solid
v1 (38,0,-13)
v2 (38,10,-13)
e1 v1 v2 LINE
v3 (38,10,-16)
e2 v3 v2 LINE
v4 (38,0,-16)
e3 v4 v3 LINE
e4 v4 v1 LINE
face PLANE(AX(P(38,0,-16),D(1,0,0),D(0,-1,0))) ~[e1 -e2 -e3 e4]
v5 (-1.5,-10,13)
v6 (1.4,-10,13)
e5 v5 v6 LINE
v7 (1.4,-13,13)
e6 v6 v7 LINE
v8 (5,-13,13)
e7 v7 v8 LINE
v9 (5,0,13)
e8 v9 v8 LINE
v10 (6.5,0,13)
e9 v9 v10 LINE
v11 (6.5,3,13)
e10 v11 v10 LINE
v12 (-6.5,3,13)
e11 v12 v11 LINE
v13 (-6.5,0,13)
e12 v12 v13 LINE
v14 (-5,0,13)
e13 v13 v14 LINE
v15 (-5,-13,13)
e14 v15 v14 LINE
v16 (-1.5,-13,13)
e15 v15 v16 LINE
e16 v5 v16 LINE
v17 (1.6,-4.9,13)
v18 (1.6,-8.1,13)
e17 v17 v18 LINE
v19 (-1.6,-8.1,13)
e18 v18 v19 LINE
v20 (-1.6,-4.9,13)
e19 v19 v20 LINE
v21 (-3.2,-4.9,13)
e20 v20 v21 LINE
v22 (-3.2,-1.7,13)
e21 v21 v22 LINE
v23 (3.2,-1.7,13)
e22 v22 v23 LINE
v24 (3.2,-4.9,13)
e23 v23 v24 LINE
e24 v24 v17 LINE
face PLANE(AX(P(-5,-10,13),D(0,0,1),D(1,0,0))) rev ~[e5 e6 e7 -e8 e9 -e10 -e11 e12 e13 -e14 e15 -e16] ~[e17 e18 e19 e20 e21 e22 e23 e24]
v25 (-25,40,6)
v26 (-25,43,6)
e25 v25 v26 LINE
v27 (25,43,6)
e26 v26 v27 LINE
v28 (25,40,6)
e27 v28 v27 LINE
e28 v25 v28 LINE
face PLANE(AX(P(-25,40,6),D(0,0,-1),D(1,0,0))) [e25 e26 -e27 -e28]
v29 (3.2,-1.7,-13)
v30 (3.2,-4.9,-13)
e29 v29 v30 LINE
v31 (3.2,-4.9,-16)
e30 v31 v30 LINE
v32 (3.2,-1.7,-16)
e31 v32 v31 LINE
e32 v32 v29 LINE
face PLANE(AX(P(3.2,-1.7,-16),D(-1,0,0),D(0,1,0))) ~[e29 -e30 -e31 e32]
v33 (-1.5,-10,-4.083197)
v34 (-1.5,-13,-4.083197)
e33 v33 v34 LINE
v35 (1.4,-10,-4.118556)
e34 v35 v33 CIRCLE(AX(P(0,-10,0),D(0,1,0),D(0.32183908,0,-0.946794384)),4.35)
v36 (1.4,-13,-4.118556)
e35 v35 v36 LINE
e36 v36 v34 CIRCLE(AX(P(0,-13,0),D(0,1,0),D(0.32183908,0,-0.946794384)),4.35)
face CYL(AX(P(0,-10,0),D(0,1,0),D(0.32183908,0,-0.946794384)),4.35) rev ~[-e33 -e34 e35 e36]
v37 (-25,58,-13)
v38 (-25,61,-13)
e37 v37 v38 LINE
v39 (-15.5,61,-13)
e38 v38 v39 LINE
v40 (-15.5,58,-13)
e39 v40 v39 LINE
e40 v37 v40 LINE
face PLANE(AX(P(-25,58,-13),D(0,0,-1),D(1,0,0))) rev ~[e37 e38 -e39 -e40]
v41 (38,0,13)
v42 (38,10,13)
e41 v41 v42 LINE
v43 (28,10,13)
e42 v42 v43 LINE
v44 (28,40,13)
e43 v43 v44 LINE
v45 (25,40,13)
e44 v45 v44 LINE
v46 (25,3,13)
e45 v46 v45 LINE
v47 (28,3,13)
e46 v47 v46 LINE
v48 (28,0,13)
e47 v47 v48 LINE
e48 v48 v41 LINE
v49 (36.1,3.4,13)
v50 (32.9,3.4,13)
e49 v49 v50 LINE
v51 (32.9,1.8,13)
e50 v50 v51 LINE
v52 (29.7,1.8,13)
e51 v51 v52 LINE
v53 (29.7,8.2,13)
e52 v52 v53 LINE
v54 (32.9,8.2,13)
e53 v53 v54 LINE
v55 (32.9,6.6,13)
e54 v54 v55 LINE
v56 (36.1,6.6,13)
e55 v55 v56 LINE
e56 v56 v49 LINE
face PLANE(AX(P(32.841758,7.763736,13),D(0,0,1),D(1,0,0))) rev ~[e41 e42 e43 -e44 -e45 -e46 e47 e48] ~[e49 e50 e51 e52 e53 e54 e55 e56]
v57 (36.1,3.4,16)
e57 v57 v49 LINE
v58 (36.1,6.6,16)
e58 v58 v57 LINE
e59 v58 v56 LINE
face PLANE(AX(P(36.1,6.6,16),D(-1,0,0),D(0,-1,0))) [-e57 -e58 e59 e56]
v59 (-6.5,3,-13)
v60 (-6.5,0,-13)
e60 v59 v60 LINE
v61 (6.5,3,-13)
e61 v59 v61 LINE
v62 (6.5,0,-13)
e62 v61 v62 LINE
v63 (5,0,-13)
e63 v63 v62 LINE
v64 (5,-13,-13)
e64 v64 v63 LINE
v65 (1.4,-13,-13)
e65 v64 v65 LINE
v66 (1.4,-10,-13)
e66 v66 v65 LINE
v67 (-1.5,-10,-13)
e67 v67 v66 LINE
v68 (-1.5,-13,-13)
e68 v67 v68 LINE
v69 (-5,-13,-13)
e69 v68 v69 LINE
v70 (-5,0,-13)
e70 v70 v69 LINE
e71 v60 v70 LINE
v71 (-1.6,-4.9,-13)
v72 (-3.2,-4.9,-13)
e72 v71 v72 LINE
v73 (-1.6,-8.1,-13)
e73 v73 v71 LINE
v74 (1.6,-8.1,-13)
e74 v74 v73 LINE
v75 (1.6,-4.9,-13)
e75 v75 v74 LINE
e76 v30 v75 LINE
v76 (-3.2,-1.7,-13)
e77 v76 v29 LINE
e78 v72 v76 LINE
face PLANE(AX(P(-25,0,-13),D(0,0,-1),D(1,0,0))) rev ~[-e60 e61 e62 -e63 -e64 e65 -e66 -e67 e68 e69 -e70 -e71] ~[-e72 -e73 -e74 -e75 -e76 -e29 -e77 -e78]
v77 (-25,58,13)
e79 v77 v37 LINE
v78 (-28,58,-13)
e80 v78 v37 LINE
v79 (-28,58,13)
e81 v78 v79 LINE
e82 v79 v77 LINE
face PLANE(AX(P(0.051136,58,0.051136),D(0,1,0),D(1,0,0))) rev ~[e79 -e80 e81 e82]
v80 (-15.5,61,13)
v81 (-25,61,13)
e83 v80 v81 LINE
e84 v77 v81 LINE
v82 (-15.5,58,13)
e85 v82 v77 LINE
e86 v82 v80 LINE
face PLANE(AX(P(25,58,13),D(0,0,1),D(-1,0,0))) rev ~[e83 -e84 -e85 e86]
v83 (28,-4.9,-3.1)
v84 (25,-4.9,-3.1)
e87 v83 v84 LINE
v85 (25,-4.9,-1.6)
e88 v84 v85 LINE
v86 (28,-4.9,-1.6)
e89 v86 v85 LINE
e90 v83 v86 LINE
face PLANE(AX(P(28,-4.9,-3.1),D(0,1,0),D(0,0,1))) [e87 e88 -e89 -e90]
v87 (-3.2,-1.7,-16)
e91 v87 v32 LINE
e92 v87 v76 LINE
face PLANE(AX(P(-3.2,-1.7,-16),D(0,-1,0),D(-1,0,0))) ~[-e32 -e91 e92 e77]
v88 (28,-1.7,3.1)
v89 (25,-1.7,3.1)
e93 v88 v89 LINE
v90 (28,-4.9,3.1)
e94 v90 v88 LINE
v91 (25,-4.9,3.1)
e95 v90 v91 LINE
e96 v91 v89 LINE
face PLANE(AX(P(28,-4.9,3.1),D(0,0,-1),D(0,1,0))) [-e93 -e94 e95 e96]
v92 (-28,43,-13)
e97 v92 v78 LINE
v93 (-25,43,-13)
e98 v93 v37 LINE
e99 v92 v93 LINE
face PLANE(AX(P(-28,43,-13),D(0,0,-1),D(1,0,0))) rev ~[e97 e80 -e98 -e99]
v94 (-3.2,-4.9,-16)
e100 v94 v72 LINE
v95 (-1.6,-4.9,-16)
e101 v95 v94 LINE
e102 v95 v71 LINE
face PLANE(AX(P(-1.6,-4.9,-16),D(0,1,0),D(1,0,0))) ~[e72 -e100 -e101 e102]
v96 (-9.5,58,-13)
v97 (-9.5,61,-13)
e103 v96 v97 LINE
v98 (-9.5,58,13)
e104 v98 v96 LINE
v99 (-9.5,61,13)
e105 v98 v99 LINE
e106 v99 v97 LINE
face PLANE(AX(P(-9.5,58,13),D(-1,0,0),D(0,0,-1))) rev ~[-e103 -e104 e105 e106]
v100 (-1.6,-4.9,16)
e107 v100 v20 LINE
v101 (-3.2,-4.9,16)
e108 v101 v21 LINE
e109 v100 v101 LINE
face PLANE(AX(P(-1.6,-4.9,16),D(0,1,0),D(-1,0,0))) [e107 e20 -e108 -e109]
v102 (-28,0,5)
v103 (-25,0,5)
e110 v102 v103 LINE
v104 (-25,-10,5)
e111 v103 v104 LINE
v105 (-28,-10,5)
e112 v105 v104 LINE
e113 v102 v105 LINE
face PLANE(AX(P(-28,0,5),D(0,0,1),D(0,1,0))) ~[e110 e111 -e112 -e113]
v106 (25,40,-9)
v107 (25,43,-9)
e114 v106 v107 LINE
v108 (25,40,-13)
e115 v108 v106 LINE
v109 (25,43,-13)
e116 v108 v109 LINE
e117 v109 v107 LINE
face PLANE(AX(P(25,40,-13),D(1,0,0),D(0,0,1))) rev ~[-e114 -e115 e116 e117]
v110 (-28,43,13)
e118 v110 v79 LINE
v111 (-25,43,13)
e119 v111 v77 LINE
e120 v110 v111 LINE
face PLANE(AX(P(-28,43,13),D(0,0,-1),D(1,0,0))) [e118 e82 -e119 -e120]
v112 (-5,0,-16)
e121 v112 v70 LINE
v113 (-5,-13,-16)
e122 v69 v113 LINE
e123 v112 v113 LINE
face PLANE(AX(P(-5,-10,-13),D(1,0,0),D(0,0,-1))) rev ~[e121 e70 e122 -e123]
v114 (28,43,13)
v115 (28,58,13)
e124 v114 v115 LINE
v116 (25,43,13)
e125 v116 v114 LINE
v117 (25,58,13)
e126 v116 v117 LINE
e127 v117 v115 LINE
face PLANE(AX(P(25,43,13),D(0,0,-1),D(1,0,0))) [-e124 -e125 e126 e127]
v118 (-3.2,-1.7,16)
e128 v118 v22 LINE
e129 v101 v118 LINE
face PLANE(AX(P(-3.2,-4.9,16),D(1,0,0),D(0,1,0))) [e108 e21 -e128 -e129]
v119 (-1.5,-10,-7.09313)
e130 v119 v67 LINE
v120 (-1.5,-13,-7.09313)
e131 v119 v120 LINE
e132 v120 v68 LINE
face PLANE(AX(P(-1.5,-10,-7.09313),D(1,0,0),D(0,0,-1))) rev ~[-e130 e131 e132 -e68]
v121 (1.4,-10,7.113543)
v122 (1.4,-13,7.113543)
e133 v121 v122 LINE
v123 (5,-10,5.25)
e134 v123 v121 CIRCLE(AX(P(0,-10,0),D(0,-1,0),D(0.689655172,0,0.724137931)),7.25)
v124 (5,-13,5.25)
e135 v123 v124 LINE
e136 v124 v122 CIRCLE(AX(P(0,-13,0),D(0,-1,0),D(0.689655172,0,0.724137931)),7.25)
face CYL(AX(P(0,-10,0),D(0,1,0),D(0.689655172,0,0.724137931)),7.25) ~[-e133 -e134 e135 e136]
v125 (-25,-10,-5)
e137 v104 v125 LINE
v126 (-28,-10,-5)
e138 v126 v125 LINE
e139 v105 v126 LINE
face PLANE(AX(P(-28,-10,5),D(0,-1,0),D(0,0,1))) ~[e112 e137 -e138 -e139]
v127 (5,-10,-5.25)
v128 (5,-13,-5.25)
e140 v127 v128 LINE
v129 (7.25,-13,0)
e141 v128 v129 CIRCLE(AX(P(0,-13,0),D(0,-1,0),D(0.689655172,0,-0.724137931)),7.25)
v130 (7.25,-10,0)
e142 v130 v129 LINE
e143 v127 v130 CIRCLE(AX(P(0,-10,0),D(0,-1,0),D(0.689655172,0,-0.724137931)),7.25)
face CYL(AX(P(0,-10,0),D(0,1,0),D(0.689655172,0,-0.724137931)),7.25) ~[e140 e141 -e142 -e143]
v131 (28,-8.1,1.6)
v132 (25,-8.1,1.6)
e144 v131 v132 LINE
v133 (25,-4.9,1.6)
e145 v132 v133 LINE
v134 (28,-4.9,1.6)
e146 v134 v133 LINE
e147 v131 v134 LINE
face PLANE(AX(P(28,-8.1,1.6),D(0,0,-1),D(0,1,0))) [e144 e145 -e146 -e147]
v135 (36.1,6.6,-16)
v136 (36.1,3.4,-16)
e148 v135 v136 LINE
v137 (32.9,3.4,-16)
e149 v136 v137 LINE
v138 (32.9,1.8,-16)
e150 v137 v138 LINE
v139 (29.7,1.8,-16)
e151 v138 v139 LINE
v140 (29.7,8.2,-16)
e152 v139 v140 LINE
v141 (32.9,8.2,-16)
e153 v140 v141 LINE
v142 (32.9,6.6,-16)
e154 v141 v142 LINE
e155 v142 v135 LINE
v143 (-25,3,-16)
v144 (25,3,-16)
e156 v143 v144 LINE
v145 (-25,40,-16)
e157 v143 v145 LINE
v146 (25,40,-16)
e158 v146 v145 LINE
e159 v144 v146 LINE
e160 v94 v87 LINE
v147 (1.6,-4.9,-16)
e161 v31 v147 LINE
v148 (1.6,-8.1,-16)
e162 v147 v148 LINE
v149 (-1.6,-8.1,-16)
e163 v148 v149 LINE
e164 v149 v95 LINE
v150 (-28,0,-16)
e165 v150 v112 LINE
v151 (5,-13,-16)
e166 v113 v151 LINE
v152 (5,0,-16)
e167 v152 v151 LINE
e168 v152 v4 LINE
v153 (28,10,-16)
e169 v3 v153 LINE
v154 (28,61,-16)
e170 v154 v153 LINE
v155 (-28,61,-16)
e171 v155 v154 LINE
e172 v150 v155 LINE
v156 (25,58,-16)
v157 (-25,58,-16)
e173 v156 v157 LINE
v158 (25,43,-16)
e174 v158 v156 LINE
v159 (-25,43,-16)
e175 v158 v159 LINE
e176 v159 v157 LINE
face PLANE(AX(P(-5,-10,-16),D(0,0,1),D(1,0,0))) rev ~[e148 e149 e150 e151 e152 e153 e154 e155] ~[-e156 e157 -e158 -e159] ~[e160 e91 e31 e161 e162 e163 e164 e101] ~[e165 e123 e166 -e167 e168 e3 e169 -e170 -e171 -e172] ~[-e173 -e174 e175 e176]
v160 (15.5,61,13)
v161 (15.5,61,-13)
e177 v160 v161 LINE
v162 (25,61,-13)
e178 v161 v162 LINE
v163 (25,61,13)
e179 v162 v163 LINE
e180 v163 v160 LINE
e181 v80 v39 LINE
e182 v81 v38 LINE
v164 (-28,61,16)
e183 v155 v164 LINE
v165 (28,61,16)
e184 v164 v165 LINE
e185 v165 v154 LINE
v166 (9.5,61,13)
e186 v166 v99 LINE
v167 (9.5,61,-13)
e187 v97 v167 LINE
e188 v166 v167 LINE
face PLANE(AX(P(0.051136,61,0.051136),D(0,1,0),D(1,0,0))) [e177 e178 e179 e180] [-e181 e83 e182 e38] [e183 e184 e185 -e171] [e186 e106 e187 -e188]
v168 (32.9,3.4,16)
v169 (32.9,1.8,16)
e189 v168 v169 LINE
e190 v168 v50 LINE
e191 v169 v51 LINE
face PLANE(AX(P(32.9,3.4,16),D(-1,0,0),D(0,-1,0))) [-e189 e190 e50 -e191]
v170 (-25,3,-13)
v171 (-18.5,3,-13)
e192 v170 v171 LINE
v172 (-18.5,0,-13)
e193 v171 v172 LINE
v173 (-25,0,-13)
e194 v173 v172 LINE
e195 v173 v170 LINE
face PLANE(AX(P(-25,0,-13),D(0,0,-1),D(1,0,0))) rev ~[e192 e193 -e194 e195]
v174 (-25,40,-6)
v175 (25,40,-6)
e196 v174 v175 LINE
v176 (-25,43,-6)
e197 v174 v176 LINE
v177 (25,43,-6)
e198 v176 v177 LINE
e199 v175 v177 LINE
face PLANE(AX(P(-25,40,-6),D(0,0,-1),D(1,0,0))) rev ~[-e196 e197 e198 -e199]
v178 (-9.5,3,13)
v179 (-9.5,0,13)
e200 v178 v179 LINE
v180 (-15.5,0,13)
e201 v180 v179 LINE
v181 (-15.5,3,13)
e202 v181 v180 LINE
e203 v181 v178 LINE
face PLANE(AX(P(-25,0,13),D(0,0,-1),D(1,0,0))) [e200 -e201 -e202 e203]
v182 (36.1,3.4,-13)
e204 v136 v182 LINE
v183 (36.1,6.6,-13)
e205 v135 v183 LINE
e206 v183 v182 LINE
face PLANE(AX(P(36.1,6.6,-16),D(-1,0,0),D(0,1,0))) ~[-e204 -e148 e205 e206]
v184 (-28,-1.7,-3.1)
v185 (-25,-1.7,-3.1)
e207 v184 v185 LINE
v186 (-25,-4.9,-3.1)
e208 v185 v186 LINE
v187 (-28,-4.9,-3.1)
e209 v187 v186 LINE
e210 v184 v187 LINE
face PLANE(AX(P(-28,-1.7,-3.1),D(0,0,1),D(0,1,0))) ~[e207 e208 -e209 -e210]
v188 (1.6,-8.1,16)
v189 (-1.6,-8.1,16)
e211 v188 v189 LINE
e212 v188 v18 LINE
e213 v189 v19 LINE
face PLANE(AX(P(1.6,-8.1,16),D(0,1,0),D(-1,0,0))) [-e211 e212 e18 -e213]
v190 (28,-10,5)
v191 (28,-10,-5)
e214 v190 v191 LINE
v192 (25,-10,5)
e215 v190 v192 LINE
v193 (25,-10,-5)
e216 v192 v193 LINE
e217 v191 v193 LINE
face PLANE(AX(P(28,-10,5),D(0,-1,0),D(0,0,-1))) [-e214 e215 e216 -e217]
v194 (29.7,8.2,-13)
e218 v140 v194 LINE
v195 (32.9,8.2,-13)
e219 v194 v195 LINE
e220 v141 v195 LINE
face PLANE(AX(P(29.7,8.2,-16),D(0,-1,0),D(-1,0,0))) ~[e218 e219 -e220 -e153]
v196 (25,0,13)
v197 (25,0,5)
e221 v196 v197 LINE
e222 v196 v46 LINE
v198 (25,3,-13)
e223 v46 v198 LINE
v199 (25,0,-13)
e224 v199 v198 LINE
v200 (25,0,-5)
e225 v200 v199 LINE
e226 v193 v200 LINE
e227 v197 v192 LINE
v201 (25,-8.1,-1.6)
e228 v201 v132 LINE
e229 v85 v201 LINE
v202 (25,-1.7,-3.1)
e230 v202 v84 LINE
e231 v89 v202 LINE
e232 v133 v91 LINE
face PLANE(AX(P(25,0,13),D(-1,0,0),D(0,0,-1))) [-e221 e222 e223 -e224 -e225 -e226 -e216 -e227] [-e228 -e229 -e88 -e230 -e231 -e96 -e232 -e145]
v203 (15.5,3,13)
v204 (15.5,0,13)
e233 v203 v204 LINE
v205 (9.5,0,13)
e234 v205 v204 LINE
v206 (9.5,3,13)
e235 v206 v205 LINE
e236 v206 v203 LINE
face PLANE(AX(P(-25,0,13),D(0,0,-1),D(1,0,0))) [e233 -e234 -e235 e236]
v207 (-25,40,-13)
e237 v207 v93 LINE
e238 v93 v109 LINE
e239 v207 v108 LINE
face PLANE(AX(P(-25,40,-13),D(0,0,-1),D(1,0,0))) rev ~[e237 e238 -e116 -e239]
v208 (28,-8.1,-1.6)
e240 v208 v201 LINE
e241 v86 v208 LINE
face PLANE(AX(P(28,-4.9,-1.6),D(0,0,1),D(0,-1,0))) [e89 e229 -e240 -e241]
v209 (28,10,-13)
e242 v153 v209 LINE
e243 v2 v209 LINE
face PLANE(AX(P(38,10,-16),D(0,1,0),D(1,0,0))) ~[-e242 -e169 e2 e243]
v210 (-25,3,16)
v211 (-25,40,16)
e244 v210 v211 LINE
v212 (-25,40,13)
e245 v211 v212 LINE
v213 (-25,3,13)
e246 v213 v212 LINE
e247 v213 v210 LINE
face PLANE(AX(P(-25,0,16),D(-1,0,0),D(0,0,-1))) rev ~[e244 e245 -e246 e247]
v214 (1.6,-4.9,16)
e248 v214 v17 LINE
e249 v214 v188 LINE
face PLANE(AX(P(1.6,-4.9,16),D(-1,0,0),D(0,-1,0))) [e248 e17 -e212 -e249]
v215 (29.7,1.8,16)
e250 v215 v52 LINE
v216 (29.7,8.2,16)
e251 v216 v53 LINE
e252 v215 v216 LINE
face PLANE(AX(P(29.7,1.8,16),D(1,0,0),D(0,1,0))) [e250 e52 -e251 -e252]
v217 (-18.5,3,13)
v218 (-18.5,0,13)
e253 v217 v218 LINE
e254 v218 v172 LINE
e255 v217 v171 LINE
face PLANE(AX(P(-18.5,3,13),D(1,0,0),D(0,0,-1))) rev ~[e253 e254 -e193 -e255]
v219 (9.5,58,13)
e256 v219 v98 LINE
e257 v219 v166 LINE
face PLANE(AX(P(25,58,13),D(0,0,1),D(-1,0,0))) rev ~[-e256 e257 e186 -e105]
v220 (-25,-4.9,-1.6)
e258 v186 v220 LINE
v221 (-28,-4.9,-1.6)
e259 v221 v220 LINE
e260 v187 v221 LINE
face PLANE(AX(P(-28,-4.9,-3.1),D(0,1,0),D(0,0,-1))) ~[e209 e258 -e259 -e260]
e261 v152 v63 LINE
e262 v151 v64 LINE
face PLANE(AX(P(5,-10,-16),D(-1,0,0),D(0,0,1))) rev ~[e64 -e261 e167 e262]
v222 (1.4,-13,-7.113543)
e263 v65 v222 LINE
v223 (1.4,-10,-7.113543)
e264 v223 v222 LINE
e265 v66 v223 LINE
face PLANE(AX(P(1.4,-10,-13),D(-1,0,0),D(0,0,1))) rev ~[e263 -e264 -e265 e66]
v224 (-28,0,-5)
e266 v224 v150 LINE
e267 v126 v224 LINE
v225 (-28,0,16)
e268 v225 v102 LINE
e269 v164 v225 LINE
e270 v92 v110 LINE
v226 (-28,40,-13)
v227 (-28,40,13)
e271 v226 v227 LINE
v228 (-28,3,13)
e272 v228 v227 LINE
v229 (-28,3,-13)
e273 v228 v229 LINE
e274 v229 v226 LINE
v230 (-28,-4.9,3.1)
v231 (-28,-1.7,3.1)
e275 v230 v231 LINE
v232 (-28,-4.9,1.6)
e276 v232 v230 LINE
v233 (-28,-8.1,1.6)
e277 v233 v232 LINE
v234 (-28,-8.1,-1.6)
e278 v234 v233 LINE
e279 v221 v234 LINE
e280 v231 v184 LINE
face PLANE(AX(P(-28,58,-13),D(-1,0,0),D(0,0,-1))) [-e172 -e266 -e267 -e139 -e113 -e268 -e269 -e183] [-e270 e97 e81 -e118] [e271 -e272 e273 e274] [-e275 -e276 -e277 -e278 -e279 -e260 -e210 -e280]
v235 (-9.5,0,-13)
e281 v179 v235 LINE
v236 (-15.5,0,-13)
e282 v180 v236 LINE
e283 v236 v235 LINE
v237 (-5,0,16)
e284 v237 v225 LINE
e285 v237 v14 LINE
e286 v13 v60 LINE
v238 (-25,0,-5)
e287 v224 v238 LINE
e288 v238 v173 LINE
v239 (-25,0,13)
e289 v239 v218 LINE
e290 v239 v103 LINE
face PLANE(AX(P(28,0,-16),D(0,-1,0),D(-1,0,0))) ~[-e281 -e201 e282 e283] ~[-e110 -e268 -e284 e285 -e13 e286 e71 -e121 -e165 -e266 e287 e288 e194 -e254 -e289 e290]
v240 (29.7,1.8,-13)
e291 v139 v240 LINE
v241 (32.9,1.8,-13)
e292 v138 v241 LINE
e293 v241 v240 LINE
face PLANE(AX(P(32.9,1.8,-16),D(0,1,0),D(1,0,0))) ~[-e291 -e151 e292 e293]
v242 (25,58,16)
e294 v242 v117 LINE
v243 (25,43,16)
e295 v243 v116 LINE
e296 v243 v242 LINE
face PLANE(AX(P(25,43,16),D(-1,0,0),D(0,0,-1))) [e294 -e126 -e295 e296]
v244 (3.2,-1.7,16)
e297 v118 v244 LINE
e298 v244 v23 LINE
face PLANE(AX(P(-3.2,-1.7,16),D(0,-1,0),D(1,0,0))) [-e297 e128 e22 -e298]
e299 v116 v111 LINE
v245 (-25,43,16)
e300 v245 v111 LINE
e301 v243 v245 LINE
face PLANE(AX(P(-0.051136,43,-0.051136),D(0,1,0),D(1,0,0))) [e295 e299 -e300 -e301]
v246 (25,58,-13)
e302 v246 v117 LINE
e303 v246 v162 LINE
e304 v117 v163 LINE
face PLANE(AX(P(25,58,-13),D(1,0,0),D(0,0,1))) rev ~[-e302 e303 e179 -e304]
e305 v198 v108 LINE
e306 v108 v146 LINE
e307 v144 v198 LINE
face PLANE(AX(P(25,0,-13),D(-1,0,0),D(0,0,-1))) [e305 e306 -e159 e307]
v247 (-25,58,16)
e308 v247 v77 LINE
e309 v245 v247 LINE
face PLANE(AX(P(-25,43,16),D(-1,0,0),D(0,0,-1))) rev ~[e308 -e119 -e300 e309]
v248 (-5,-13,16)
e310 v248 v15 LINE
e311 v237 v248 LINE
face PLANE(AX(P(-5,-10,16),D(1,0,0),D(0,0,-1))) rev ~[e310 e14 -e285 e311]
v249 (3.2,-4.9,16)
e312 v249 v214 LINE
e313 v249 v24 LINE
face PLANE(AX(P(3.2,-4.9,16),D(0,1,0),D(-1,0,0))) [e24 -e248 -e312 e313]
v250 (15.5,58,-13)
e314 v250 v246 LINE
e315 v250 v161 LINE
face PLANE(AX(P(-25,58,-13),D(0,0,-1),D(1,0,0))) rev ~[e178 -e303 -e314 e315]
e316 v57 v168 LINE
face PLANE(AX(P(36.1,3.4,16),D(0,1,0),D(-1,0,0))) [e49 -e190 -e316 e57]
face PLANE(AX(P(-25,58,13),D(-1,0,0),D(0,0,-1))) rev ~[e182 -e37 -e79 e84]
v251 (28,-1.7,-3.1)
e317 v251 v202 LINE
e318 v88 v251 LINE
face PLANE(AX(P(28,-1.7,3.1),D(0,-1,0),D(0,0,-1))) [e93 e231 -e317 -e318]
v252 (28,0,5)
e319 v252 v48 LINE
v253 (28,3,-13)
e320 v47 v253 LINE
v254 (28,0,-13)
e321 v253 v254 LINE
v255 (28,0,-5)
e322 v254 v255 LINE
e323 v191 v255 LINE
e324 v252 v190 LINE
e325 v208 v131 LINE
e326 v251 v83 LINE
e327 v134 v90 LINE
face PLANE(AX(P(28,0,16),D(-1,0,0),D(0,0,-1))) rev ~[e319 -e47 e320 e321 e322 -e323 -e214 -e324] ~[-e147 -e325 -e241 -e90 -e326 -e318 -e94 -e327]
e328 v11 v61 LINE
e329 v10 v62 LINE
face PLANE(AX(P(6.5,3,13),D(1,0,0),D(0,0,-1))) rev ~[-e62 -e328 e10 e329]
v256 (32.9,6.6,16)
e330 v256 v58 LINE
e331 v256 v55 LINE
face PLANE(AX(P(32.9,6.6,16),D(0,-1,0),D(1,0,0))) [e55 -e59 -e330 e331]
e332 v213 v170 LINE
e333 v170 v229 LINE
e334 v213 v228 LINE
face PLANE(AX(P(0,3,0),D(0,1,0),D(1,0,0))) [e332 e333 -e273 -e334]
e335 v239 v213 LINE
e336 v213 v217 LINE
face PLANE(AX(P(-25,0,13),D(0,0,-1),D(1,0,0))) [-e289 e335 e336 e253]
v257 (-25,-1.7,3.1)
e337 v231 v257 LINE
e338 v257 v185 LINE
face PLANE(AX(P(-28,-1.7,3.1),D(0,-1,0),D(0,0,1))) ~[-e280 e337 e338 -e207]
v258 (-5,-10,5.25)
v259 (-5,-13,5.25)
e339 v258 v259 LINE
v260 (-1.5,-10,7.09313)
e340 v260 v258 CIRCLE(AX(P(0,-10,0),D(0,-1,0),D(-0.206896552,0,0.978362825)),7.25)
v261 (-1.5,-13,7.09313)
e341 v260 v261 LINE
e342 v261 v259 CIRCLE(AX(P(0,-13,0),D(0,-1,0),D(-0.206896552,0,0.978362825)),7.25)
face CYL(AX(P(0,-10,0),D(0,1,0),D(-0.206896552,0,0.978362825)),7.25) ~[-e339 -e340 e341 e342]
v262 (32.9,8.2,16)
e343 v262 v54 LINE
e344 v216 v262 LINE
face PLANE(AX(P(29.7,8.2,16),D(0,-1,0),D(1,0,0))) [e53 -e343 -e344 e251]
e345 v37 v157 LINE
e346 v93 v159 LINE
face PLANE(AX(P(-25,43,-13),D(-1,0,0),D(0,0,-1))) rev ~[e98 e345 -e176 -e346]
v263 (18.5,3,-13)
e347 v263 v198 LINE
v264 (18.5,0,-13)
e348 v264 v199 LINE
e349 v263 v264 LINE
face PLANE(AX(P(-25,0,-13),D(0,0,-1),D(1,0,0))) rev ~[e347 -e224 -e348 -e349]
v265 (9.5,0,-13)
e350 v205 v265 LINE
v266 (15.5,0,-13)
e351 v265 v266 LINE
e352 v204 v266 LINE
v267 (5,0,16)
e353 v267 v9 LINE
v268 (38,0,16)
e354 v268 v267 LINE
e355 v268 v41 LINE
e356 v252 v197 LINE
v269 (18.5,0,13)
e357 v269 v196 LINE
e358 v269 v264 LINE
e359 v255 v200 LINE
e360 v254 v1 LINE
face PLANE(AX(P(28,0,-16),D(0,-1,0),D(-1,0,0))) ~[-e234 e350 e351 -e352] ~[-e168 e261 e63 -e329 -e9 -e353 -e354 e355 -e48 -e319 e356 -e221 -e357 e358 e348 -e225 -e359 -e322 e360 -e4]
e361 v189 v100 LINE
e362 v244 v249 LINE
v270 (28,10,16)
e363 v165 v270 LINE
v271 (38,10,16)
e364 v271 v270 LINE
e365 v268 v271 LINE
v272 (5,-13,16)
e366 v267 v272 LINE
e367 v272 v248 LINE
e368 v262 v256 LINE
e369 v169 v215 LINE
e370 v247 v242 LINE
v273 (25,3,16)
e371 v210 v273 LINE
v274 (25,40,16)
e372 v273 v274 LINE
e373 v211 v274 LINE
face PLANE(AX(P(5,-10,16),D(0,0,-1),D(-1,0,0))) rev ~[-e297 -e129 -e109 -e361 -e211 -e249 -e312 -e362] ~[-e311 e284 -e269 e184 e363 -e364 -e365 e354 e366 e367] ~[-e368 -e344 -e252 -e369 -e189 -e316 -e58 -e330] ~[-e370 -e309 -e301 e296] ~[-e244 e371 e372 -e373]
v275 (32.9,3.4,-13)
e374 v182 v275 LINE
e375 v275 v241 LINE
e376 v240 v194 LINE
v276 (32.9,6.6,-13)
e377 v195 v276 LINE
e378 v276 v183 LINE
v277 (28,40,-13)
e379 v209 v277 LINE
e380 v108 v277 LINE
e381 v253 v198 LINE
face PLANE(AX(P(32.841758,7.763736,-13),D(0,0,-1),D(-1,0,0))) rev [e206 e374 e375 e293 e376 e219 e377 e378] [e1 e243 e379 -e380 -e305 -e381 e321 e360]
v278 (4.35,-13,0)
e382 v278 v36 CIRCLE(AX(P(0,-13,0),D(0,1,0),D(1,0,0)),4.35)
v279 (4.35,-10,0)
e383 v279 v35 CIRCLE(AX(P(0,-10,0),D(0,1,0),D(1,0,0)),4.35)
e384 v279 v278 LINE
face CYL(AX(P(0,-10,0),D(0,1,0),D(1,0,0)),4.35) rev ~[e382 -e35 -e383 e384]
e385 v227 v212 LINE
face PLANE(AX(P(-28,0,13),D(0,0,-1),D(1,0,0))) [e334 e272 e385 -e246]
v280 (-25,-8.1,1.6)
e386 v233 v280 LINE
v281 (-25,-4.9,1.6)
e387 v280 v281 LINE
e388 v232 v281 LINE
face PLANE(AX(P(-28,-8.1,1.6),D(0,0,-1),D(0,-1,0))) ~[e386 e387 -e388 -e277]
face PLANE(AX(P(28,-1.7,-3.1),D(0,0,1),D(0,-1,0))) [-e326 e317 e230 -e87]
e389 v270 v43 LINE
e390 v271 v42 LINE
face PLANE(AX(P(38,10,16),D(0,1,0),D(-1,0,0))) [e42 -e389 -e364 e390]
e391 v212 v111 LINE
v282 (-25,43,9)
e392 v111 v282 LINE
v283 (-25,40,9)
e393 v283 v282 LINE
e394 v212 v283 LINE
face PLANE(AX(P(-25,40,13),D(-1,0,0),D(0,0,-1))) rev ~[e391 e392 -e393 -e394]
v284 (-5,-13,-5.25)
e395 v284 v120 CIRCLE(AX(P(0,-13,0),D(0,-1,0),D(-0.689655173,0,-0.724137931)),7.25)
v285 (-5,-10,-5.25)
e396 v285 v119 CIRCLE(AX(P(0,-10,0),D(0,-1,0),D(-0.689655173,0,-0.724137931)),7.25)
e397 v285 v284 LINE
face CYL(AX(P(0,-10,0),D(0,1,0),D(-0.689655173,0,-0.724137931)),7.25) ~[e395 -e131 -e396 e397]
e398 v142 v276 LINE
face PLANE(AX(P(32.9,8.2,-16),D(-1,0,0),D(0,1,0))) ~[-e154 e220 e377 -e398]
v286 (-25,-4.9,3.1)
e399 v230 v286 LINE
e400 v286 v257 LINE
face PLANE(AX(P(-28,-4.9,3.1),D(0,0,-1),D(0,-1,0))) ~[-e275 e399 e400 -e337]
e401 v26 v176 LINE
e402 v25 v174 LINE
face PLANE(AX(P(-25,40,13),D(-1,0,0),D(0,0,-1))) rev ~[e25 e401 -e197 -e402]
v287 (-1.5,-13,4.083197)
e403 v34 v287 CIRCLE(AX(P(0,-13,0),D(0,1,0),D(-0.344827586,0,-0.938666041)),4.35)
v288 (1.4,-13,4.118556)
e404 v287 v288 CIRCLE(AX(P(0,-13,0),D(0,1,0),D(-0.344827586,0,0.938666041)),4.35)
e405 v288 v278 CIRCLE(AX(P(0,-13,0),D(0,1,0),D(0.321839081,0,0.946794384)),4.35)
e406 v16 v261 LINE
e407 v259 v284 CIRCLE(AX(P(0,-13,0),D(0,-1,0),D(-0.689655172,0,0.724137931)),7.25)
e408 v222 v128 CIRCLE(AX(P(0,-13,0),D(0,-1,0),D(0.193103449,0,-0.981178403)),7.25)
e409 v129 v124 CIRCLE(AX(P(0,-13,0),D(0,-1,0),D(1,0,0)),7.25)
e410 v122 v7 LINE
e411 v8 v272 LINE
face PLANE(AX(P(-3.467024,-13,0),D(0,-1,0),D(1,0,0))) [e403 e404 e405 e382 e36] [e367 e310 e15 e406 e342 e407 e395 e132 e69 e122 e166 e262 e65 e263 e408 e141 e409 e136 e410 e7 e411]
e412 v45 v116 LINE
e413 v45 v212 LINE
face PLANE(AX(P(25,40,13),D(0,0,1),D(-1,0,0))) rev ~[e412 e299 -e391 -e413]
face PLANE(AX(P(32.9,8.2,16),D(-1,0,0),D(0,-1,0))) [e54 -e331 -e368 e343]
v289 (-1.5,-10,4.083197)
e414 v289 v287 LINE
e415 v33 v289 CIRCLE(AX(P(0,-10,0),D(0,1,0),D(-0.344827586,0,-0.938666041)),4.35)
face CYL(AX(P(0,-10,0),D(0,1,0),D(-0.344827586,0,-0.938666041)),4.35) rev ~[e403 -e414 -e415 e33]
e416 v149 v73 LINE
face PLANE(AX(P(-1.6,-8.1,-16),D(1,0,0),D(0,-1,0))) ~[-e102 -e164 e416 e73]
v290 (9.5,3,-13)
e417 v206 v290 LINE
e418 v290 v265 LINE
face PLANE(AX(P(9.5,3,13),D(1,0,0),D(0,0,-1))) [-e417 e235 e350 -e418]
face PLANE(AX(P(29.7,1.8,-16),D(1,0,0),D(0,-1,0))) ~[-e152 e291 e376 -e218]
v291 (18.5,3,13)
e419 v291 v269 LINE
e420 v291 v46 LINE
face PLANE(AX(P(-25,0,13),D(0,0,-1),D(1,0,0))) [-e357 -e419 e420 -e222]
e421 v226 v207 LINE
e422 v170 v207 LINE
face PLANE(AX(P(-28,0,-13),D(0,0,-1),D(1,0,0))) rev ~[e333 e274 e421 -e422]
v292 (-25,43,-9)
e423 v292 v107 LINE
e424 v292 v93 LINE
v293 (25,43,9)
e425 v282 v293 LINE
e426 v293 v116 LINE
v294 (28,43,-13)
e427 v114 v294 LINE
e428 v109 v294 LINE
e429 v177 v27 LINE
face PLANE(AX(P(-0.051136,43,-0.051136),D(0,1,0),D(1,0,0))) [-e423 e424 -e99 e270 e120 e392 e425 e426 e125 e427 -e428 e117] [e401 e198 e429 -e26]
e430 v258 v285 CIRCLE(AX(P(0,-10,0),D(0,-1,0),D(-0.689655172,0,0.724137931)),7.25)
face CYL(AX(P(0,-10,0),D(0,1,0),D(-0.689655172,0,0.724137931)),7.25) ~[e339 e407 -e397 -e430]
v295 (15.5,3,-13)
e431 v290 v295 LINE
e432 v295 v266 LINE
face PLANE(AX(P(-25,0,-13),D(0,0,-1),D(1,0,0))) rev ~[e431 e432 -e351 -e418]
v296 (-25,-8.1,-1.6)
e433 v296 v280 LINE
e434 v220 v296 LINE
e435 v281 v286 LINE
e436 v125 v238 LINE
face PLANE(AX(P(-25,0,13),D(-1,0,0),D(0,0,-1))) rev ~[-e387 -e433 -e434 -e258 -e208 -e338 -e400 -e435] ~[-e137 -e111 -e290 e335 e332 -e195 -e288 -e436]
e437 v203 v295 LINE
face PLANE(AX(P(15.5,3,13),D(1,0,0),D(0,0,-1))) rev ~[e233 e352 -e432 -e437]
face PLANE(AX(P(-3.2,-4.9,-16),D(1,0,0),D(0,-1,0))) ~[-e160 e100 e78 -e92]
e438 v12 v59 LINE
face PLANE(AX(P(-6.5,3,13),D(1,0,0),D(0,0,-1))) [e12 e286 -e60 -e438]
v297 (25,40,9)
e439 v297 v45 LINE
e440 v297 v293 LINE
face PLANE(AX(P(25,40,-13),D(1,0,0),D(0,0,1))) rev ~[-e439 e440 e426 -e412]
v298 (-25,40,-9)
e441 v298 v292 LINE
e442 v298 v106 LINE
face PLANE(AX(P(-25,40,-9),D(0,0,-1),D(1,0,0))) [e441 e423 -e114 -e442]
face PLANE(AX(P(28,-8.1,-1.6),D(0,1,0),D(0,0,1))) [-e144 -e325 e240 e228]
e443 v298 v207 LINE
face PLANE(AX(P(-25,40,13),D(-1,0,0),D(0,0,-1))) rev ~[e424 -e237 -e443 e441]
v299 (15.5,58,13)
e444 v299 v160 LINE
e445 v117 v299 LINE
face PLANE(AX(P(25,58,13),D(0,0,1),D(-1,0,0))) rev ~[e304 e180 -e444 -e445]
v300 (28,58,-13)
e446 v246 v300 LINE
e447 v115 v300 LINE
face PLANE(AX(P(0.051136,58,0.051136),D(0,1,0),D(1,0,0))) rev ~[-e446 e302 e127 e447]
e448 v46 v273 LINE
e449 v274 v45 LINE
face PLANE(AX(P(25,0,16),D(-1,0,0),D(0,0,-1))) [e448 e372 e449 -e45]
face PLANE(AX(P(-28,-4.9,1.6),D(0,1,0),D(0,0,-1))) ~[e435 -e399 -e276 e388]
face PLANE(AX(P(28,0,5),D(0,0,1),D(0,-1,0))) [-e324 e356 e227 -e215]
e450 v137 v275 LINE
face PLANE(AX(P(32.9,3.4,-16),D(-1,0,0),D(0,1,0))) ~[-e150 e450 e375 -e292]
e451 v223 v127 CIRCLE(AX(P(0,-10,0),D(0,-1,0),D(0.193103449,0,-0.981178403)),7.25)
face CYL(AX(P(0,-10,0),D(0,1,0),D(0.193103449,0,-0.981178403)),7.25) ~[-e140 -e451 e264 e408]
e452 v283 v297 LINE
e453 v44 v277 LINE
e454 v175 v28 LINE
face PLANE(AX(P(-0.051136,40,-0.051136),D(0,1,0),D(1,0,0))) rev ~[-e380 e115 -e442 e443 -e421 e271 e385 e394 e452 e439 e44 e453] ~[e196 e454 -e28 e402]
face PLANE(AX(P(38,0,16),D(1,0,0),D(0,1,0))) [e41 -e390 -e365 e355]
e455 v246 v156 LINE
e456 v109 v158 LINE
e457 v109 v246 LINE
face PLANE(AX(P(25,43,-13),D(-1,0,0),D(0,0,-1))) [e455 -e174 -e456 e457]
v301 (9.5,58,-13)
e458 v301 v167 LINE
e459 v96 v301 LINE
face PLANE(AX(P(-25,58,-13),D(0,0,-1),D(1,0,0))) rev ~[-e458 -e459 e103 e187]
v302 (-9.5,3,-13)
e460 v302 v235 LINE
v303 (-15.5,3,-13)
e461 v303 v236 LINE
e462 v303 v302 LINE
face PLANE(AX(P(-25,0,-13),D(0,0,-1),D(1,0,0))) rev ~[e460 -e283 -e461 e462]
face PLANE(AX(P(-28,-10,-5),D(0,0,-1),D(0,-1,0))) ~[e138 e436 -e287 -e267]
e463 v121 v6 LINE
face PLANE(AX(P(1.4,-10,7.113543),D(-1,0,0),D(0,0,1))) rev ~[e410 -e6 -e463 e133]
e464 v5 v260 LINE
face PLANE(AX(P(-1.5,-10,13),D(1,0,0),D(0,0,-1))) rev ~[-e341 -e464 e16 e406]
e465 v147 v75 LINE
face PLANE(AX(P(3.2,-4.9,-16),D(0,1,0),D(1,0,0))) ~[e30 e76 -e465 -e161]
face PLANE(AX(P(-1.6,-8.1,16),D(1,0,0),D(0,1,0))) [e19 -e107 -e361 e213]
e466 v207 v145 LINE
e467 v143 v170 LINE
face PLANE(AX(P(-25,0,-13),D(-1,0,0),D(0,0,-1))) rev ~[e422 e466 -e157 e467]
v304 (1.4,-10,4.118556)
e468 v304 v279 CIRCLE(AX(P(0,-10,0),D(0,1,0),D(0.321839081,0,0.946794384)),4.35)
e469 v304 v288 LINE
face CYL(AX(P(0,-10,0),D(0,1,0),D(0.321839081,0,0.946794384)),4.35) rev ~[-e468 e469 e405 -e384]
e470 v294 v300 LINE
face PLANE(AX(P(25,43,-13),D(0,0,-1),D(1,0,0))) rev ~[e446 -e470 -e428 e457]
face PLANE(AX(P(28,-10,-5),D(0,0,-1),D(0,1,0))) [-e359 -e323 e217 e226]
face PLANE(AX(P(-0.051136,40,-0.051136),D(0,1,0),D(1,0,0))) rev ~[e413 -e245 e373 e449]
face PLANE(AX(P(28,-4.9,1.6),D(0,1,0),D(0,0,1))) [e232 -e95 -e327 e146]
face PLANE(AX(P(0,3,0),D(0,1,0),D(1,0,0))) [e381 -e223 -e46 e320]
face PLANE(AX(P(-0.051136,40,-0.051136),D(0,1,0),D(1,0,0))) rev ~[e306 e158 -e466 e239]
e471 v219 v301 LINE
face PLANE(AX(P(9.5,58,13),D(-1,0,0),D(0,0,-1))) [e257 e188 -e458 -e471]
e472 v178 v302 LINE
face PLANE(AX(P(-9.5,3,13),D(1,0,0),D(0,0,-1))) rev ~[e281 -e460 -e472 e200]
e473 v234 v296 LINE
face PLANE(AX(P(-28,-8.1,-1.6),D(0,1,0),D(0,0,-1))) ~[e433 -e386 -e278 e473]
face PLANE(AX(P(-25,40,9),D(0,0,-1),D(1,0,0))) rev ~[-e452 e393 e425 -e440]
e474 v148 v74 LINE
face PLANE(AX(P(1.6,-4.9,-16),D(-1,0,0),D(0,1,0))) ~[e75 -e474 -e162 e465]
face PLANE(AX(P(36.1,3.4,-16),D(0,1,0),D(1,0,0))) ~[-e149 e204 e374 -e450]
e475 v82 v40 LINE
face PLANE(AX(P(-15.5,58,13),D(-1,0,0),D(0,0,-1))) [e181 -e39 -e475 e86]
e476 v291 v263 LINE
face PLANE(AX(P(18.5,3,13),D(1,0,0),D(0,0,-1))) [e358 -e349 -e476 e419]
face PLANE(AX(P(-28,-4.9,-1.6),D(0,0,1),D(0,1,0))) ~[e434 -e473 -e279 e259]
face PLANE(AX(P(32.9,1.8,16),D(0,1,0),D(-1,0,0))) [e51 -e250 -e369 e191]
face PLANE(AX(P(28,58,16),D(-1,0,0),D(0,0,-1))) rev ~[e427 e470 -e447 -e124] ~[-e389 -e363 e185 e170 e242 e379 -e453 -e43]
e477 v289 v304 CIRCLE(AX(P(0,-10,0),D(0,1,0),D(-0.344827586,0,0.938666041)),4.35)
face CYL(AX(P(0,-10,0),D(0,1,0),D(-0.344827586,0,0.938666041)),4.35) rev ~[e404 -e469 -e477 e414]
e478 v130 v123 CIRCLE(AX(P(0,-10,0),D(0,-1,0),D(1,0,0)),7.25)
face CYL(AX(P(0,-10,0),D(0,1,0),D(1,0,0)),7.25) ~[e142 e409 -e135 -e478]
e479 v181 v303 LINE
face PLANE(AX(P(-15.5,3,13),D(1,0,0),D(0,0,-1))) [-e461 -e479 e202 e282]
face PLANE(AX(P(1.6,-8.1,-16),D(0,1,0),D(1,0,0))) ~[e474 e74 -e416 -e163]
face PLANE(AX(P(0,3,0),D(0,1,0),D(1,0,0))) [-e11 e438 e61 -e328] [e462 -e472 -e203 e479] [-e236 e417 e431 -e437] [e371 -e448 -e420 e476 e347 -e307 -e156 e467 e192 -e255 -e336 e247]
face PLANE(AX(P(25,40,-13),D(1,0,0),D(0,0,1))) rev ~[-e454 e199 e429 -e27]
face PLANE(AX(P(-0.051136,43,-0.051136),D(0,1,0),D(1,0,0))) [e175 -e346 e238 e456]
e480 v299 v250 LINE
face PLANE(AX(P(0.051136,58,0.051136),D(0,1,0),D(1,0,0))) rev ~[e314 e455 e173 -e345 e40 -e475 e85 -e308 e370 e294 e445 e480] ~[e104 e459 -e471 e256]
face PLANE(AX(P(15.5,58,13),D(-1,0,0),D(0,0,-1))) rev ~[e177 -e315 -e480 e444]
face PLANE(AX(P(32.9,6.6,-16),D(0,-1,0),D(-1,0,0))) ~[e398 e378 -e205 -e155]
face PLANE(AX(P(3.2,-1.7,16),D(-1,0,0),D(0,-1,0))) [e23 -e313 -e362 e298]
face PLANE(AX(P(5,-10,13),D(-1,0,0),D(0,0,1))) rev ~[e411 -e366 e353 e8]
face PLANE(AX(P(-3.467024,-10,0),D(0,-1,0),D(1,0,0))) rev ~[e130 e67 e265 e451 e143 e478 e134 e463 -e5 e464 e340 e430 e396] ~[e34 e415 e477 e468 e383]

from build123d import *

# Parameters (mm, degrees)
SKETCH1_W            = 56
SKETCH1_H            = 32
SKETCH1_W_2          = 50
SKETCH1_H_2          = 26
BOSS_EXTRUDE1_DEPTH  = 3
SKETCH2_W            = 3
SKETCH2_H            = 3
BOSS_EXTRUDE2_DEPTH  = 40
BOSS_EXTRUDE3_DEPTH  = 3
BOSS_EXTRUDE4_DEPTH  = 3
SKETCH5_W            = 3
SKETCH5_H            = 26
BOSS_EXTRUDE5_DEPTH  = 3
SKETCH6_W            = 50
SKETCH6_H            = 3
SKETCH6_W_2          = 3
BOSS_EXTRUDE7_DEPTH  = 3
SKETCH7_W            = 3
SKETCH7_H            = 3
BOSS_EXTRUDE8_DEPTH  = 15
SKETCH8_W            = 3
SKETCH8_H            = 26
SKETCH8_W_2          = 6
SKETCH8_H_2          = 3
BOSS_EXTRUDE9_DEPTH  = 3
BOSS_EXTRUDE10_DEPTH = 3
BOSS_EXTRUDE11_DEPTH = 3


with BuildPart() as part:
    # Sketch1 → Boss-Extrude1 (new body)
    with BuildSketch(Plane(origin=(0, 0, 0), x_dir=(1, 0, 0), z_dir=(0, 1, 0))):
        Rectangle(SKETCH1_W, SKETCH1_H)
        Rectangle(SKETCH1_W_2, SKETCH1_H_2, mode=Mode.SUBTRACT)
    extrude(amount=BOSS_EXTRUDE1_DEPTH)

    # Sketch2 → Boss-Extrude2 (add)
    with BuildSketch(Plane(origin=(0, 0, 0), x_dir=(1, 0, 0), z_dir=(0, 1, 0))):
        with Locations((26.5, 14.5)):
            Rectangle(SKETCH2_W, SKETCH2_H)
        with Locations((26.5, -14.5)):
            Rectangle(SKETCH2_W, SKETCH2_H)
        with Locations((-26.5, -14.5)):
            Rectangle(SKETCH2_W, SKETCH2_H)
        with Locations((-26.5, 14.5)):
            Rectangle(SKETCH2_W, SKETCH2_H)
    extrude(amount=BOSS_EXTRUDE2_DEPTH)

    # Sketch3 → Boss-Extrude3 (add)
    with BuildSketch(Plane.XY.offset(16)):
        Polygon((28, 10), (28, 5), (29.7, 5), (29.7, 8.2), (32.9, 8.2), (32.9, 6.6), (36.1, 6.6), (36.1, 5), (38, 5), (38, 10), align=None)
        Polygon((28, 5), (28, 0), (38, 0), (38, 5), (36.1, 5), (36.1, 3.4), (32.9, 3.4), (32.9, 1.8), (29.7, 1.8), (29.7, 5), align=None)
    boss_extrude3 = extrude(amount=-BOSS_EXTRUDE3_DEPTH)

    # Mirror1: Boss-Extrude3 across plane
    add(boss_extrude3.mirror(Plane.XY))

    # Sketch4 → Boss-Extrude4 (add)
    with BuildSketch(Plane.XY.offset(16)):
        Polygon((5, 0), (0, 0), (-5, 0), (-5, -10), (0, -10), (5, -10), align=None)
        Polygon((1.6, -8.1), (0, -8.1), (-1.6, -8.1), (-1.6, -4.9), (-3.2, -4.9), (-3.2, -1.7), (3.2, -1.7), (3.2, -4.9), (1.6, -4.9), align=None, mode=Mode.SUBTRACT)
    boss_extrude4 = extrude(amount=-BOSS_EXTRUDE4_DEPTH)

    # Mirror2: Boss-Extrude4 across plane
    add(boss_extrude4.mirror(Plane.XY))

    # Sketch5 → Boss-Extrude5 (add)
    with BuildSketch(Plane(origin=(0, 3, 0), x_dir=(1, 0, 0), z_dir=(0, 1, 0))):
        with Locations((-17, 0)):
            Rectangle(SKETCH5_W, SKETCH5_H)
        with Locations((-8, 0)):
            Rectangle(SKETCH5_W, SKETCH5_H)
        with Locations((8, 0)):
            Rectangle(SKETCH5_W, SKETCH5_H)
        with Locations((17, 0)):
            Rectangle(SKETCH5_W, SKETCH5_H)
    extrude(amount=-BOSS_EXTRUDE5_DEPTH)

    # Sketch6 → Boss-Extrude7 (add)
    # profile 1 of 4: a face of its own
    with BuildSketch(Plane(origin=(0, 40, 0), x_dir=(1, 0, 0), z_dir=(0, 1, 0))):
        Polygon((-28, -16), (25, -16), (25, -13), (28, -13), (28, 16), (-28, 16), align=None)
        Polygon((25, -9), (25, -13), (-25, -13), (-25, -9), (-25, -6), (-25, 6), (-25, 9), (-25, 13), (25, 13), (25, 9), (25, 6), (25, -6), align=None, mode=Mode.SUBTRACT)
    # profile 2 of 4: a face of its own
    with BuildSketch(Plane(origin=(0, 40, 0), x_dir=(1, 0, 0), z_dir=(0, 1, 0))):
        with Locations((0, -7.5)):
            Rectangle(SKETCH6_W, SKETCH6_H)
    # profile 3 of 4: a face of its own
    with BuildSketch(Plane(origin=(0, 40, 0), x_dir=(1, 0, 0), z_dir=(0, 1, 0))):
        with Locations((0, 7.5)):
            Rectangle(SKETCH6_W, SKETCH6_H)
    # profile 4 of 4: a face of its own
    with BuildSketch(Plane(origin=(0, 40, 0), x_dir=(1, 0, 0), z_dir=(0, 1, 0))):
        with Locations((26.5, -14.5)):
            Rectangle(SKETCH6_W_2, SKETCH6_H)
    extrude(amount=BOSS_EXTRUDE7_DEPTH)

    # Sketch7 → Boss-Extrude8 (add)
    with BuildSketch(Plane(origin=(0, 43, 0), x_dir=(1, 0, 0), z_dir=(0, 1, 0))):
        with Locations((-26.5, -14.5)):
            Rectangle(SKETCH7_W, SKETCH7_H)
        with Locations((-26.5, 14.5)):
            Rectangle(SKETCH7_W, SKETCH7_H)
        with Locations((26.5, 14.5)):
            Rectangle(SKETCH7_W, SKETCH7_H)
        with Locations((26.5, -14.5)):
            Rectangle(SKETCH7_W, SKETCH7_H)
    extrude(amount=BOSS_EXTRUDE8_DEPTH)

    # Sketch8 → Boss-Extrude9 (add)
    # profile 1 of 5: a face of its own
    with BuildSketch(Plane(origin=(0, 58, 0), x_dir=(1, 0, 0), z_dir=(0, 1, 0))):
        Polygon((-25, 16), (-25, 13), (-28, 13), (-28, -16), (28, -16), (28, 16), align=None)
        Polygon((25, 13), (25, -13), (15.5, -13), (12.5, -13), (9.5, -13), (0, -13), (-9.5, -13), (-15.5, -13), (-25, -13), (-25, 13), (-15.5, 13), (-9.5, 13), (9.5, 13), (12.5, 13), (15.5, 13), align=None, mode=Mode.SUBTRACT)
    # profile 2 of 5: a face of its own
    with BuildSketch(Plane(origin=(0, 58, 0), x_dir=(1, 0, 0), z_dir=(0, 1, 0))):
        with Locations((11, 0)):
            Rectangle(SKETCH8_W, SKETCH8_H)
    # profile 3 of 5: a face of its own
    with BuildSketch(Plane(origin=(0, 58, 0), x_dir=(1, 0, 0), z_dir=(0, 1, 0))):
        with Locations((14, 0)):
            Rectangle(SKETCH8_W, SKETCH8_H)
    # profile 4 of 5: a face of its own
    with BuildSketch(Plane(origin=(0, 58, 0), x_dir=(1, 0, 0), z_dir=(0, 1, 0))):
        with Locations((-12.5, 0)):
            Rectangle(SKETCH8_W_2, SKETCH8_H)
    # profile 5 of 5: a face of its own
    with BuildSketch(Plane(origin=(0, 58, 0), x_dir=(1, 0, 0), z_dir=(0, 1, 0))):
        with Locations((-26.5, 14.5)):
            Rectangle(SKETCH8_W, SKETCH8_H_2)
    extrude(amount=BOSS_EXTRUDE9_DEPTH)

    # Sketch9 → Boss-Extrude10 (add)
    with BuildSketch(Plane.XZ.offset(10)):
        with BuildLine():
            ThreePointArc((-5, -5.25), (-3.378132989, -6.414882502), (-1.5, -7.09313048))
            Line((-1.5, -7.09313048), (-1.5, -4.083197277))
            ThreePointArc((-1.5, -4.083197277), (-4.35, 0), (-1.5, 4.083197277))
            Line((-1.5, 4.083197277), (-1.5, 7.09313048))
            ThreePointArc((-1.5, 7.09313048), (-3.378132989, 6.414882502), (-5, 5.25))
            Line((-5, 5.25), (-5, -5.25))
        make_face()
        with BuildLine():
            ThreePointArc((-5, 5.25), (-7.25, 0), (-5, -5.25))
            Line((-5, -5.25), (-5, 5.25))
        make_face()
        with BuildLine():
            Line((-1.5, -4.083197277), (-1.5, -7.09313048))
            ThreePointArc((-1.5, -7.09313048), (-0.051031089, -7.2498204), (1.4, -7.113543421))
            Line((1.4, -7.113543421), (1.4, -4.118555572))
            ThreePointArc((1.4, -4.118555572), (-0.053033501, -4.349676706), (-1.5, -4.083197277))
        make_face()
        with BuildLine():
            Line((-1.5, 7.09313048), (-1.5, 4.083197277))
            ThreePointArc((-1.5, 4.083197277), (-0.053033501, 4.349676706), (1.4, 4.118555572))
            Line((1.4, 4.118555572), (1.4, 7.113543421))
            ThreePointArc((1.4, 7.113543421), (-0.051031089, 7.2498204), (-1.5, 7.09313048))
        make_face()
        with BuildLine():
            Line((1.4, -4.118555572), (1.4, -7.113543421))
            ThreePointArc((1.4, -7.113543421), (3.332896416, -6.438501493), (5, -5.25))
            Line((5, -5.25), (5, 5.25))
            ThreePointArc((5, 5.25), (3.332896416, 6.438501493), (1.4, 7.113543421))
            Line((1.4, 7.113543421), (1.4, 4.118555572))
            ThreePointArc((1.4, 4.118555572), (3.536417679, 2.53303178), (4.35, 0))
            ThreePointArc((4.35, 0), (3.536417679, -2.53303178), (1.4, -4.118555572))
        make_face()
        with BuildLine():
            Line((5, 5.25), (5, -5.25))
            ThreePointArc((5, -5.25), (6.663801468, -2.855914915), (7.25, 0))
            ThreePointArc((7.25, 0), (6.663801468, 2.855914915), (5, 5.25))
        make_face()
        with BuildLine():
            Line((-1.5, 13), (-1.5, 7.09313048))
            ThreePointArc((-1.5, 7.09313048), (-0.051031089, 7.2498204), (1.4, 7.113543421))
            Line((1.4, 7.113543421), (1.4, 13))
            Line((1.4, 13), (-1.5, 13))
        make_face()
        Polygon((-5, 16), (-5, 13), (-1.5, 13), (1.4, 13), (5, 13), (5, 16), align=None)
        with BuildLine():
            Line((-1.5, -13), (0, -13))
            Line((0, -13), (1.4, -13))
            Line((1.4, -13), (1.4, -7.113543421))
            ThreePointArc((1.4, -7.113543421), (-0.051031089, -7.2498204), (-1.5, -7.09313048))
            Line((-1.5, -7.09313048), (-1.5, -13))
        make_face()
        Polygon((1.4, -13), (0, -13), (-1.5, -13), (-5, -13), (-5, -16), (5, -16), (5, -13), align=None)
    extrude(amount=BOSS_EXTRUDE10_DEPTH)

    # Sketch10 → Boss-Extrude11 (add)
    with BuildSketch(Plane(origin=(28, 0, 0), x_dir=(0, 0, -1), z_dir=(1, 0, 0))):
        Polygon((5, 0), (0, 0), (-5, 0), (-5, -10), (0, -10), (5, -10), align=None)
        Polygon((1.6, -8.1), (0, -8.1), (-1.6, -8.1), (-1.6, -4.9), (-3.1, -4.9), (-3.1, -1.7), (3.1, -1.7), (3.1, -4.9), (1.6, -4.9), align=None, mode=Mode.SUBTRACT)
    boss_extrude11 = extrude(amount=-BOSS_EXTRUDE11_DEPTH)

    # Mirror3: Boss-Extrude11 across plane
    add(boss_extrude11.mirror(Plane(origin=(0, 0, 0), x_dir=(0, 0, 1), z_dir=(1, 0, 0))))


solid = part.part
